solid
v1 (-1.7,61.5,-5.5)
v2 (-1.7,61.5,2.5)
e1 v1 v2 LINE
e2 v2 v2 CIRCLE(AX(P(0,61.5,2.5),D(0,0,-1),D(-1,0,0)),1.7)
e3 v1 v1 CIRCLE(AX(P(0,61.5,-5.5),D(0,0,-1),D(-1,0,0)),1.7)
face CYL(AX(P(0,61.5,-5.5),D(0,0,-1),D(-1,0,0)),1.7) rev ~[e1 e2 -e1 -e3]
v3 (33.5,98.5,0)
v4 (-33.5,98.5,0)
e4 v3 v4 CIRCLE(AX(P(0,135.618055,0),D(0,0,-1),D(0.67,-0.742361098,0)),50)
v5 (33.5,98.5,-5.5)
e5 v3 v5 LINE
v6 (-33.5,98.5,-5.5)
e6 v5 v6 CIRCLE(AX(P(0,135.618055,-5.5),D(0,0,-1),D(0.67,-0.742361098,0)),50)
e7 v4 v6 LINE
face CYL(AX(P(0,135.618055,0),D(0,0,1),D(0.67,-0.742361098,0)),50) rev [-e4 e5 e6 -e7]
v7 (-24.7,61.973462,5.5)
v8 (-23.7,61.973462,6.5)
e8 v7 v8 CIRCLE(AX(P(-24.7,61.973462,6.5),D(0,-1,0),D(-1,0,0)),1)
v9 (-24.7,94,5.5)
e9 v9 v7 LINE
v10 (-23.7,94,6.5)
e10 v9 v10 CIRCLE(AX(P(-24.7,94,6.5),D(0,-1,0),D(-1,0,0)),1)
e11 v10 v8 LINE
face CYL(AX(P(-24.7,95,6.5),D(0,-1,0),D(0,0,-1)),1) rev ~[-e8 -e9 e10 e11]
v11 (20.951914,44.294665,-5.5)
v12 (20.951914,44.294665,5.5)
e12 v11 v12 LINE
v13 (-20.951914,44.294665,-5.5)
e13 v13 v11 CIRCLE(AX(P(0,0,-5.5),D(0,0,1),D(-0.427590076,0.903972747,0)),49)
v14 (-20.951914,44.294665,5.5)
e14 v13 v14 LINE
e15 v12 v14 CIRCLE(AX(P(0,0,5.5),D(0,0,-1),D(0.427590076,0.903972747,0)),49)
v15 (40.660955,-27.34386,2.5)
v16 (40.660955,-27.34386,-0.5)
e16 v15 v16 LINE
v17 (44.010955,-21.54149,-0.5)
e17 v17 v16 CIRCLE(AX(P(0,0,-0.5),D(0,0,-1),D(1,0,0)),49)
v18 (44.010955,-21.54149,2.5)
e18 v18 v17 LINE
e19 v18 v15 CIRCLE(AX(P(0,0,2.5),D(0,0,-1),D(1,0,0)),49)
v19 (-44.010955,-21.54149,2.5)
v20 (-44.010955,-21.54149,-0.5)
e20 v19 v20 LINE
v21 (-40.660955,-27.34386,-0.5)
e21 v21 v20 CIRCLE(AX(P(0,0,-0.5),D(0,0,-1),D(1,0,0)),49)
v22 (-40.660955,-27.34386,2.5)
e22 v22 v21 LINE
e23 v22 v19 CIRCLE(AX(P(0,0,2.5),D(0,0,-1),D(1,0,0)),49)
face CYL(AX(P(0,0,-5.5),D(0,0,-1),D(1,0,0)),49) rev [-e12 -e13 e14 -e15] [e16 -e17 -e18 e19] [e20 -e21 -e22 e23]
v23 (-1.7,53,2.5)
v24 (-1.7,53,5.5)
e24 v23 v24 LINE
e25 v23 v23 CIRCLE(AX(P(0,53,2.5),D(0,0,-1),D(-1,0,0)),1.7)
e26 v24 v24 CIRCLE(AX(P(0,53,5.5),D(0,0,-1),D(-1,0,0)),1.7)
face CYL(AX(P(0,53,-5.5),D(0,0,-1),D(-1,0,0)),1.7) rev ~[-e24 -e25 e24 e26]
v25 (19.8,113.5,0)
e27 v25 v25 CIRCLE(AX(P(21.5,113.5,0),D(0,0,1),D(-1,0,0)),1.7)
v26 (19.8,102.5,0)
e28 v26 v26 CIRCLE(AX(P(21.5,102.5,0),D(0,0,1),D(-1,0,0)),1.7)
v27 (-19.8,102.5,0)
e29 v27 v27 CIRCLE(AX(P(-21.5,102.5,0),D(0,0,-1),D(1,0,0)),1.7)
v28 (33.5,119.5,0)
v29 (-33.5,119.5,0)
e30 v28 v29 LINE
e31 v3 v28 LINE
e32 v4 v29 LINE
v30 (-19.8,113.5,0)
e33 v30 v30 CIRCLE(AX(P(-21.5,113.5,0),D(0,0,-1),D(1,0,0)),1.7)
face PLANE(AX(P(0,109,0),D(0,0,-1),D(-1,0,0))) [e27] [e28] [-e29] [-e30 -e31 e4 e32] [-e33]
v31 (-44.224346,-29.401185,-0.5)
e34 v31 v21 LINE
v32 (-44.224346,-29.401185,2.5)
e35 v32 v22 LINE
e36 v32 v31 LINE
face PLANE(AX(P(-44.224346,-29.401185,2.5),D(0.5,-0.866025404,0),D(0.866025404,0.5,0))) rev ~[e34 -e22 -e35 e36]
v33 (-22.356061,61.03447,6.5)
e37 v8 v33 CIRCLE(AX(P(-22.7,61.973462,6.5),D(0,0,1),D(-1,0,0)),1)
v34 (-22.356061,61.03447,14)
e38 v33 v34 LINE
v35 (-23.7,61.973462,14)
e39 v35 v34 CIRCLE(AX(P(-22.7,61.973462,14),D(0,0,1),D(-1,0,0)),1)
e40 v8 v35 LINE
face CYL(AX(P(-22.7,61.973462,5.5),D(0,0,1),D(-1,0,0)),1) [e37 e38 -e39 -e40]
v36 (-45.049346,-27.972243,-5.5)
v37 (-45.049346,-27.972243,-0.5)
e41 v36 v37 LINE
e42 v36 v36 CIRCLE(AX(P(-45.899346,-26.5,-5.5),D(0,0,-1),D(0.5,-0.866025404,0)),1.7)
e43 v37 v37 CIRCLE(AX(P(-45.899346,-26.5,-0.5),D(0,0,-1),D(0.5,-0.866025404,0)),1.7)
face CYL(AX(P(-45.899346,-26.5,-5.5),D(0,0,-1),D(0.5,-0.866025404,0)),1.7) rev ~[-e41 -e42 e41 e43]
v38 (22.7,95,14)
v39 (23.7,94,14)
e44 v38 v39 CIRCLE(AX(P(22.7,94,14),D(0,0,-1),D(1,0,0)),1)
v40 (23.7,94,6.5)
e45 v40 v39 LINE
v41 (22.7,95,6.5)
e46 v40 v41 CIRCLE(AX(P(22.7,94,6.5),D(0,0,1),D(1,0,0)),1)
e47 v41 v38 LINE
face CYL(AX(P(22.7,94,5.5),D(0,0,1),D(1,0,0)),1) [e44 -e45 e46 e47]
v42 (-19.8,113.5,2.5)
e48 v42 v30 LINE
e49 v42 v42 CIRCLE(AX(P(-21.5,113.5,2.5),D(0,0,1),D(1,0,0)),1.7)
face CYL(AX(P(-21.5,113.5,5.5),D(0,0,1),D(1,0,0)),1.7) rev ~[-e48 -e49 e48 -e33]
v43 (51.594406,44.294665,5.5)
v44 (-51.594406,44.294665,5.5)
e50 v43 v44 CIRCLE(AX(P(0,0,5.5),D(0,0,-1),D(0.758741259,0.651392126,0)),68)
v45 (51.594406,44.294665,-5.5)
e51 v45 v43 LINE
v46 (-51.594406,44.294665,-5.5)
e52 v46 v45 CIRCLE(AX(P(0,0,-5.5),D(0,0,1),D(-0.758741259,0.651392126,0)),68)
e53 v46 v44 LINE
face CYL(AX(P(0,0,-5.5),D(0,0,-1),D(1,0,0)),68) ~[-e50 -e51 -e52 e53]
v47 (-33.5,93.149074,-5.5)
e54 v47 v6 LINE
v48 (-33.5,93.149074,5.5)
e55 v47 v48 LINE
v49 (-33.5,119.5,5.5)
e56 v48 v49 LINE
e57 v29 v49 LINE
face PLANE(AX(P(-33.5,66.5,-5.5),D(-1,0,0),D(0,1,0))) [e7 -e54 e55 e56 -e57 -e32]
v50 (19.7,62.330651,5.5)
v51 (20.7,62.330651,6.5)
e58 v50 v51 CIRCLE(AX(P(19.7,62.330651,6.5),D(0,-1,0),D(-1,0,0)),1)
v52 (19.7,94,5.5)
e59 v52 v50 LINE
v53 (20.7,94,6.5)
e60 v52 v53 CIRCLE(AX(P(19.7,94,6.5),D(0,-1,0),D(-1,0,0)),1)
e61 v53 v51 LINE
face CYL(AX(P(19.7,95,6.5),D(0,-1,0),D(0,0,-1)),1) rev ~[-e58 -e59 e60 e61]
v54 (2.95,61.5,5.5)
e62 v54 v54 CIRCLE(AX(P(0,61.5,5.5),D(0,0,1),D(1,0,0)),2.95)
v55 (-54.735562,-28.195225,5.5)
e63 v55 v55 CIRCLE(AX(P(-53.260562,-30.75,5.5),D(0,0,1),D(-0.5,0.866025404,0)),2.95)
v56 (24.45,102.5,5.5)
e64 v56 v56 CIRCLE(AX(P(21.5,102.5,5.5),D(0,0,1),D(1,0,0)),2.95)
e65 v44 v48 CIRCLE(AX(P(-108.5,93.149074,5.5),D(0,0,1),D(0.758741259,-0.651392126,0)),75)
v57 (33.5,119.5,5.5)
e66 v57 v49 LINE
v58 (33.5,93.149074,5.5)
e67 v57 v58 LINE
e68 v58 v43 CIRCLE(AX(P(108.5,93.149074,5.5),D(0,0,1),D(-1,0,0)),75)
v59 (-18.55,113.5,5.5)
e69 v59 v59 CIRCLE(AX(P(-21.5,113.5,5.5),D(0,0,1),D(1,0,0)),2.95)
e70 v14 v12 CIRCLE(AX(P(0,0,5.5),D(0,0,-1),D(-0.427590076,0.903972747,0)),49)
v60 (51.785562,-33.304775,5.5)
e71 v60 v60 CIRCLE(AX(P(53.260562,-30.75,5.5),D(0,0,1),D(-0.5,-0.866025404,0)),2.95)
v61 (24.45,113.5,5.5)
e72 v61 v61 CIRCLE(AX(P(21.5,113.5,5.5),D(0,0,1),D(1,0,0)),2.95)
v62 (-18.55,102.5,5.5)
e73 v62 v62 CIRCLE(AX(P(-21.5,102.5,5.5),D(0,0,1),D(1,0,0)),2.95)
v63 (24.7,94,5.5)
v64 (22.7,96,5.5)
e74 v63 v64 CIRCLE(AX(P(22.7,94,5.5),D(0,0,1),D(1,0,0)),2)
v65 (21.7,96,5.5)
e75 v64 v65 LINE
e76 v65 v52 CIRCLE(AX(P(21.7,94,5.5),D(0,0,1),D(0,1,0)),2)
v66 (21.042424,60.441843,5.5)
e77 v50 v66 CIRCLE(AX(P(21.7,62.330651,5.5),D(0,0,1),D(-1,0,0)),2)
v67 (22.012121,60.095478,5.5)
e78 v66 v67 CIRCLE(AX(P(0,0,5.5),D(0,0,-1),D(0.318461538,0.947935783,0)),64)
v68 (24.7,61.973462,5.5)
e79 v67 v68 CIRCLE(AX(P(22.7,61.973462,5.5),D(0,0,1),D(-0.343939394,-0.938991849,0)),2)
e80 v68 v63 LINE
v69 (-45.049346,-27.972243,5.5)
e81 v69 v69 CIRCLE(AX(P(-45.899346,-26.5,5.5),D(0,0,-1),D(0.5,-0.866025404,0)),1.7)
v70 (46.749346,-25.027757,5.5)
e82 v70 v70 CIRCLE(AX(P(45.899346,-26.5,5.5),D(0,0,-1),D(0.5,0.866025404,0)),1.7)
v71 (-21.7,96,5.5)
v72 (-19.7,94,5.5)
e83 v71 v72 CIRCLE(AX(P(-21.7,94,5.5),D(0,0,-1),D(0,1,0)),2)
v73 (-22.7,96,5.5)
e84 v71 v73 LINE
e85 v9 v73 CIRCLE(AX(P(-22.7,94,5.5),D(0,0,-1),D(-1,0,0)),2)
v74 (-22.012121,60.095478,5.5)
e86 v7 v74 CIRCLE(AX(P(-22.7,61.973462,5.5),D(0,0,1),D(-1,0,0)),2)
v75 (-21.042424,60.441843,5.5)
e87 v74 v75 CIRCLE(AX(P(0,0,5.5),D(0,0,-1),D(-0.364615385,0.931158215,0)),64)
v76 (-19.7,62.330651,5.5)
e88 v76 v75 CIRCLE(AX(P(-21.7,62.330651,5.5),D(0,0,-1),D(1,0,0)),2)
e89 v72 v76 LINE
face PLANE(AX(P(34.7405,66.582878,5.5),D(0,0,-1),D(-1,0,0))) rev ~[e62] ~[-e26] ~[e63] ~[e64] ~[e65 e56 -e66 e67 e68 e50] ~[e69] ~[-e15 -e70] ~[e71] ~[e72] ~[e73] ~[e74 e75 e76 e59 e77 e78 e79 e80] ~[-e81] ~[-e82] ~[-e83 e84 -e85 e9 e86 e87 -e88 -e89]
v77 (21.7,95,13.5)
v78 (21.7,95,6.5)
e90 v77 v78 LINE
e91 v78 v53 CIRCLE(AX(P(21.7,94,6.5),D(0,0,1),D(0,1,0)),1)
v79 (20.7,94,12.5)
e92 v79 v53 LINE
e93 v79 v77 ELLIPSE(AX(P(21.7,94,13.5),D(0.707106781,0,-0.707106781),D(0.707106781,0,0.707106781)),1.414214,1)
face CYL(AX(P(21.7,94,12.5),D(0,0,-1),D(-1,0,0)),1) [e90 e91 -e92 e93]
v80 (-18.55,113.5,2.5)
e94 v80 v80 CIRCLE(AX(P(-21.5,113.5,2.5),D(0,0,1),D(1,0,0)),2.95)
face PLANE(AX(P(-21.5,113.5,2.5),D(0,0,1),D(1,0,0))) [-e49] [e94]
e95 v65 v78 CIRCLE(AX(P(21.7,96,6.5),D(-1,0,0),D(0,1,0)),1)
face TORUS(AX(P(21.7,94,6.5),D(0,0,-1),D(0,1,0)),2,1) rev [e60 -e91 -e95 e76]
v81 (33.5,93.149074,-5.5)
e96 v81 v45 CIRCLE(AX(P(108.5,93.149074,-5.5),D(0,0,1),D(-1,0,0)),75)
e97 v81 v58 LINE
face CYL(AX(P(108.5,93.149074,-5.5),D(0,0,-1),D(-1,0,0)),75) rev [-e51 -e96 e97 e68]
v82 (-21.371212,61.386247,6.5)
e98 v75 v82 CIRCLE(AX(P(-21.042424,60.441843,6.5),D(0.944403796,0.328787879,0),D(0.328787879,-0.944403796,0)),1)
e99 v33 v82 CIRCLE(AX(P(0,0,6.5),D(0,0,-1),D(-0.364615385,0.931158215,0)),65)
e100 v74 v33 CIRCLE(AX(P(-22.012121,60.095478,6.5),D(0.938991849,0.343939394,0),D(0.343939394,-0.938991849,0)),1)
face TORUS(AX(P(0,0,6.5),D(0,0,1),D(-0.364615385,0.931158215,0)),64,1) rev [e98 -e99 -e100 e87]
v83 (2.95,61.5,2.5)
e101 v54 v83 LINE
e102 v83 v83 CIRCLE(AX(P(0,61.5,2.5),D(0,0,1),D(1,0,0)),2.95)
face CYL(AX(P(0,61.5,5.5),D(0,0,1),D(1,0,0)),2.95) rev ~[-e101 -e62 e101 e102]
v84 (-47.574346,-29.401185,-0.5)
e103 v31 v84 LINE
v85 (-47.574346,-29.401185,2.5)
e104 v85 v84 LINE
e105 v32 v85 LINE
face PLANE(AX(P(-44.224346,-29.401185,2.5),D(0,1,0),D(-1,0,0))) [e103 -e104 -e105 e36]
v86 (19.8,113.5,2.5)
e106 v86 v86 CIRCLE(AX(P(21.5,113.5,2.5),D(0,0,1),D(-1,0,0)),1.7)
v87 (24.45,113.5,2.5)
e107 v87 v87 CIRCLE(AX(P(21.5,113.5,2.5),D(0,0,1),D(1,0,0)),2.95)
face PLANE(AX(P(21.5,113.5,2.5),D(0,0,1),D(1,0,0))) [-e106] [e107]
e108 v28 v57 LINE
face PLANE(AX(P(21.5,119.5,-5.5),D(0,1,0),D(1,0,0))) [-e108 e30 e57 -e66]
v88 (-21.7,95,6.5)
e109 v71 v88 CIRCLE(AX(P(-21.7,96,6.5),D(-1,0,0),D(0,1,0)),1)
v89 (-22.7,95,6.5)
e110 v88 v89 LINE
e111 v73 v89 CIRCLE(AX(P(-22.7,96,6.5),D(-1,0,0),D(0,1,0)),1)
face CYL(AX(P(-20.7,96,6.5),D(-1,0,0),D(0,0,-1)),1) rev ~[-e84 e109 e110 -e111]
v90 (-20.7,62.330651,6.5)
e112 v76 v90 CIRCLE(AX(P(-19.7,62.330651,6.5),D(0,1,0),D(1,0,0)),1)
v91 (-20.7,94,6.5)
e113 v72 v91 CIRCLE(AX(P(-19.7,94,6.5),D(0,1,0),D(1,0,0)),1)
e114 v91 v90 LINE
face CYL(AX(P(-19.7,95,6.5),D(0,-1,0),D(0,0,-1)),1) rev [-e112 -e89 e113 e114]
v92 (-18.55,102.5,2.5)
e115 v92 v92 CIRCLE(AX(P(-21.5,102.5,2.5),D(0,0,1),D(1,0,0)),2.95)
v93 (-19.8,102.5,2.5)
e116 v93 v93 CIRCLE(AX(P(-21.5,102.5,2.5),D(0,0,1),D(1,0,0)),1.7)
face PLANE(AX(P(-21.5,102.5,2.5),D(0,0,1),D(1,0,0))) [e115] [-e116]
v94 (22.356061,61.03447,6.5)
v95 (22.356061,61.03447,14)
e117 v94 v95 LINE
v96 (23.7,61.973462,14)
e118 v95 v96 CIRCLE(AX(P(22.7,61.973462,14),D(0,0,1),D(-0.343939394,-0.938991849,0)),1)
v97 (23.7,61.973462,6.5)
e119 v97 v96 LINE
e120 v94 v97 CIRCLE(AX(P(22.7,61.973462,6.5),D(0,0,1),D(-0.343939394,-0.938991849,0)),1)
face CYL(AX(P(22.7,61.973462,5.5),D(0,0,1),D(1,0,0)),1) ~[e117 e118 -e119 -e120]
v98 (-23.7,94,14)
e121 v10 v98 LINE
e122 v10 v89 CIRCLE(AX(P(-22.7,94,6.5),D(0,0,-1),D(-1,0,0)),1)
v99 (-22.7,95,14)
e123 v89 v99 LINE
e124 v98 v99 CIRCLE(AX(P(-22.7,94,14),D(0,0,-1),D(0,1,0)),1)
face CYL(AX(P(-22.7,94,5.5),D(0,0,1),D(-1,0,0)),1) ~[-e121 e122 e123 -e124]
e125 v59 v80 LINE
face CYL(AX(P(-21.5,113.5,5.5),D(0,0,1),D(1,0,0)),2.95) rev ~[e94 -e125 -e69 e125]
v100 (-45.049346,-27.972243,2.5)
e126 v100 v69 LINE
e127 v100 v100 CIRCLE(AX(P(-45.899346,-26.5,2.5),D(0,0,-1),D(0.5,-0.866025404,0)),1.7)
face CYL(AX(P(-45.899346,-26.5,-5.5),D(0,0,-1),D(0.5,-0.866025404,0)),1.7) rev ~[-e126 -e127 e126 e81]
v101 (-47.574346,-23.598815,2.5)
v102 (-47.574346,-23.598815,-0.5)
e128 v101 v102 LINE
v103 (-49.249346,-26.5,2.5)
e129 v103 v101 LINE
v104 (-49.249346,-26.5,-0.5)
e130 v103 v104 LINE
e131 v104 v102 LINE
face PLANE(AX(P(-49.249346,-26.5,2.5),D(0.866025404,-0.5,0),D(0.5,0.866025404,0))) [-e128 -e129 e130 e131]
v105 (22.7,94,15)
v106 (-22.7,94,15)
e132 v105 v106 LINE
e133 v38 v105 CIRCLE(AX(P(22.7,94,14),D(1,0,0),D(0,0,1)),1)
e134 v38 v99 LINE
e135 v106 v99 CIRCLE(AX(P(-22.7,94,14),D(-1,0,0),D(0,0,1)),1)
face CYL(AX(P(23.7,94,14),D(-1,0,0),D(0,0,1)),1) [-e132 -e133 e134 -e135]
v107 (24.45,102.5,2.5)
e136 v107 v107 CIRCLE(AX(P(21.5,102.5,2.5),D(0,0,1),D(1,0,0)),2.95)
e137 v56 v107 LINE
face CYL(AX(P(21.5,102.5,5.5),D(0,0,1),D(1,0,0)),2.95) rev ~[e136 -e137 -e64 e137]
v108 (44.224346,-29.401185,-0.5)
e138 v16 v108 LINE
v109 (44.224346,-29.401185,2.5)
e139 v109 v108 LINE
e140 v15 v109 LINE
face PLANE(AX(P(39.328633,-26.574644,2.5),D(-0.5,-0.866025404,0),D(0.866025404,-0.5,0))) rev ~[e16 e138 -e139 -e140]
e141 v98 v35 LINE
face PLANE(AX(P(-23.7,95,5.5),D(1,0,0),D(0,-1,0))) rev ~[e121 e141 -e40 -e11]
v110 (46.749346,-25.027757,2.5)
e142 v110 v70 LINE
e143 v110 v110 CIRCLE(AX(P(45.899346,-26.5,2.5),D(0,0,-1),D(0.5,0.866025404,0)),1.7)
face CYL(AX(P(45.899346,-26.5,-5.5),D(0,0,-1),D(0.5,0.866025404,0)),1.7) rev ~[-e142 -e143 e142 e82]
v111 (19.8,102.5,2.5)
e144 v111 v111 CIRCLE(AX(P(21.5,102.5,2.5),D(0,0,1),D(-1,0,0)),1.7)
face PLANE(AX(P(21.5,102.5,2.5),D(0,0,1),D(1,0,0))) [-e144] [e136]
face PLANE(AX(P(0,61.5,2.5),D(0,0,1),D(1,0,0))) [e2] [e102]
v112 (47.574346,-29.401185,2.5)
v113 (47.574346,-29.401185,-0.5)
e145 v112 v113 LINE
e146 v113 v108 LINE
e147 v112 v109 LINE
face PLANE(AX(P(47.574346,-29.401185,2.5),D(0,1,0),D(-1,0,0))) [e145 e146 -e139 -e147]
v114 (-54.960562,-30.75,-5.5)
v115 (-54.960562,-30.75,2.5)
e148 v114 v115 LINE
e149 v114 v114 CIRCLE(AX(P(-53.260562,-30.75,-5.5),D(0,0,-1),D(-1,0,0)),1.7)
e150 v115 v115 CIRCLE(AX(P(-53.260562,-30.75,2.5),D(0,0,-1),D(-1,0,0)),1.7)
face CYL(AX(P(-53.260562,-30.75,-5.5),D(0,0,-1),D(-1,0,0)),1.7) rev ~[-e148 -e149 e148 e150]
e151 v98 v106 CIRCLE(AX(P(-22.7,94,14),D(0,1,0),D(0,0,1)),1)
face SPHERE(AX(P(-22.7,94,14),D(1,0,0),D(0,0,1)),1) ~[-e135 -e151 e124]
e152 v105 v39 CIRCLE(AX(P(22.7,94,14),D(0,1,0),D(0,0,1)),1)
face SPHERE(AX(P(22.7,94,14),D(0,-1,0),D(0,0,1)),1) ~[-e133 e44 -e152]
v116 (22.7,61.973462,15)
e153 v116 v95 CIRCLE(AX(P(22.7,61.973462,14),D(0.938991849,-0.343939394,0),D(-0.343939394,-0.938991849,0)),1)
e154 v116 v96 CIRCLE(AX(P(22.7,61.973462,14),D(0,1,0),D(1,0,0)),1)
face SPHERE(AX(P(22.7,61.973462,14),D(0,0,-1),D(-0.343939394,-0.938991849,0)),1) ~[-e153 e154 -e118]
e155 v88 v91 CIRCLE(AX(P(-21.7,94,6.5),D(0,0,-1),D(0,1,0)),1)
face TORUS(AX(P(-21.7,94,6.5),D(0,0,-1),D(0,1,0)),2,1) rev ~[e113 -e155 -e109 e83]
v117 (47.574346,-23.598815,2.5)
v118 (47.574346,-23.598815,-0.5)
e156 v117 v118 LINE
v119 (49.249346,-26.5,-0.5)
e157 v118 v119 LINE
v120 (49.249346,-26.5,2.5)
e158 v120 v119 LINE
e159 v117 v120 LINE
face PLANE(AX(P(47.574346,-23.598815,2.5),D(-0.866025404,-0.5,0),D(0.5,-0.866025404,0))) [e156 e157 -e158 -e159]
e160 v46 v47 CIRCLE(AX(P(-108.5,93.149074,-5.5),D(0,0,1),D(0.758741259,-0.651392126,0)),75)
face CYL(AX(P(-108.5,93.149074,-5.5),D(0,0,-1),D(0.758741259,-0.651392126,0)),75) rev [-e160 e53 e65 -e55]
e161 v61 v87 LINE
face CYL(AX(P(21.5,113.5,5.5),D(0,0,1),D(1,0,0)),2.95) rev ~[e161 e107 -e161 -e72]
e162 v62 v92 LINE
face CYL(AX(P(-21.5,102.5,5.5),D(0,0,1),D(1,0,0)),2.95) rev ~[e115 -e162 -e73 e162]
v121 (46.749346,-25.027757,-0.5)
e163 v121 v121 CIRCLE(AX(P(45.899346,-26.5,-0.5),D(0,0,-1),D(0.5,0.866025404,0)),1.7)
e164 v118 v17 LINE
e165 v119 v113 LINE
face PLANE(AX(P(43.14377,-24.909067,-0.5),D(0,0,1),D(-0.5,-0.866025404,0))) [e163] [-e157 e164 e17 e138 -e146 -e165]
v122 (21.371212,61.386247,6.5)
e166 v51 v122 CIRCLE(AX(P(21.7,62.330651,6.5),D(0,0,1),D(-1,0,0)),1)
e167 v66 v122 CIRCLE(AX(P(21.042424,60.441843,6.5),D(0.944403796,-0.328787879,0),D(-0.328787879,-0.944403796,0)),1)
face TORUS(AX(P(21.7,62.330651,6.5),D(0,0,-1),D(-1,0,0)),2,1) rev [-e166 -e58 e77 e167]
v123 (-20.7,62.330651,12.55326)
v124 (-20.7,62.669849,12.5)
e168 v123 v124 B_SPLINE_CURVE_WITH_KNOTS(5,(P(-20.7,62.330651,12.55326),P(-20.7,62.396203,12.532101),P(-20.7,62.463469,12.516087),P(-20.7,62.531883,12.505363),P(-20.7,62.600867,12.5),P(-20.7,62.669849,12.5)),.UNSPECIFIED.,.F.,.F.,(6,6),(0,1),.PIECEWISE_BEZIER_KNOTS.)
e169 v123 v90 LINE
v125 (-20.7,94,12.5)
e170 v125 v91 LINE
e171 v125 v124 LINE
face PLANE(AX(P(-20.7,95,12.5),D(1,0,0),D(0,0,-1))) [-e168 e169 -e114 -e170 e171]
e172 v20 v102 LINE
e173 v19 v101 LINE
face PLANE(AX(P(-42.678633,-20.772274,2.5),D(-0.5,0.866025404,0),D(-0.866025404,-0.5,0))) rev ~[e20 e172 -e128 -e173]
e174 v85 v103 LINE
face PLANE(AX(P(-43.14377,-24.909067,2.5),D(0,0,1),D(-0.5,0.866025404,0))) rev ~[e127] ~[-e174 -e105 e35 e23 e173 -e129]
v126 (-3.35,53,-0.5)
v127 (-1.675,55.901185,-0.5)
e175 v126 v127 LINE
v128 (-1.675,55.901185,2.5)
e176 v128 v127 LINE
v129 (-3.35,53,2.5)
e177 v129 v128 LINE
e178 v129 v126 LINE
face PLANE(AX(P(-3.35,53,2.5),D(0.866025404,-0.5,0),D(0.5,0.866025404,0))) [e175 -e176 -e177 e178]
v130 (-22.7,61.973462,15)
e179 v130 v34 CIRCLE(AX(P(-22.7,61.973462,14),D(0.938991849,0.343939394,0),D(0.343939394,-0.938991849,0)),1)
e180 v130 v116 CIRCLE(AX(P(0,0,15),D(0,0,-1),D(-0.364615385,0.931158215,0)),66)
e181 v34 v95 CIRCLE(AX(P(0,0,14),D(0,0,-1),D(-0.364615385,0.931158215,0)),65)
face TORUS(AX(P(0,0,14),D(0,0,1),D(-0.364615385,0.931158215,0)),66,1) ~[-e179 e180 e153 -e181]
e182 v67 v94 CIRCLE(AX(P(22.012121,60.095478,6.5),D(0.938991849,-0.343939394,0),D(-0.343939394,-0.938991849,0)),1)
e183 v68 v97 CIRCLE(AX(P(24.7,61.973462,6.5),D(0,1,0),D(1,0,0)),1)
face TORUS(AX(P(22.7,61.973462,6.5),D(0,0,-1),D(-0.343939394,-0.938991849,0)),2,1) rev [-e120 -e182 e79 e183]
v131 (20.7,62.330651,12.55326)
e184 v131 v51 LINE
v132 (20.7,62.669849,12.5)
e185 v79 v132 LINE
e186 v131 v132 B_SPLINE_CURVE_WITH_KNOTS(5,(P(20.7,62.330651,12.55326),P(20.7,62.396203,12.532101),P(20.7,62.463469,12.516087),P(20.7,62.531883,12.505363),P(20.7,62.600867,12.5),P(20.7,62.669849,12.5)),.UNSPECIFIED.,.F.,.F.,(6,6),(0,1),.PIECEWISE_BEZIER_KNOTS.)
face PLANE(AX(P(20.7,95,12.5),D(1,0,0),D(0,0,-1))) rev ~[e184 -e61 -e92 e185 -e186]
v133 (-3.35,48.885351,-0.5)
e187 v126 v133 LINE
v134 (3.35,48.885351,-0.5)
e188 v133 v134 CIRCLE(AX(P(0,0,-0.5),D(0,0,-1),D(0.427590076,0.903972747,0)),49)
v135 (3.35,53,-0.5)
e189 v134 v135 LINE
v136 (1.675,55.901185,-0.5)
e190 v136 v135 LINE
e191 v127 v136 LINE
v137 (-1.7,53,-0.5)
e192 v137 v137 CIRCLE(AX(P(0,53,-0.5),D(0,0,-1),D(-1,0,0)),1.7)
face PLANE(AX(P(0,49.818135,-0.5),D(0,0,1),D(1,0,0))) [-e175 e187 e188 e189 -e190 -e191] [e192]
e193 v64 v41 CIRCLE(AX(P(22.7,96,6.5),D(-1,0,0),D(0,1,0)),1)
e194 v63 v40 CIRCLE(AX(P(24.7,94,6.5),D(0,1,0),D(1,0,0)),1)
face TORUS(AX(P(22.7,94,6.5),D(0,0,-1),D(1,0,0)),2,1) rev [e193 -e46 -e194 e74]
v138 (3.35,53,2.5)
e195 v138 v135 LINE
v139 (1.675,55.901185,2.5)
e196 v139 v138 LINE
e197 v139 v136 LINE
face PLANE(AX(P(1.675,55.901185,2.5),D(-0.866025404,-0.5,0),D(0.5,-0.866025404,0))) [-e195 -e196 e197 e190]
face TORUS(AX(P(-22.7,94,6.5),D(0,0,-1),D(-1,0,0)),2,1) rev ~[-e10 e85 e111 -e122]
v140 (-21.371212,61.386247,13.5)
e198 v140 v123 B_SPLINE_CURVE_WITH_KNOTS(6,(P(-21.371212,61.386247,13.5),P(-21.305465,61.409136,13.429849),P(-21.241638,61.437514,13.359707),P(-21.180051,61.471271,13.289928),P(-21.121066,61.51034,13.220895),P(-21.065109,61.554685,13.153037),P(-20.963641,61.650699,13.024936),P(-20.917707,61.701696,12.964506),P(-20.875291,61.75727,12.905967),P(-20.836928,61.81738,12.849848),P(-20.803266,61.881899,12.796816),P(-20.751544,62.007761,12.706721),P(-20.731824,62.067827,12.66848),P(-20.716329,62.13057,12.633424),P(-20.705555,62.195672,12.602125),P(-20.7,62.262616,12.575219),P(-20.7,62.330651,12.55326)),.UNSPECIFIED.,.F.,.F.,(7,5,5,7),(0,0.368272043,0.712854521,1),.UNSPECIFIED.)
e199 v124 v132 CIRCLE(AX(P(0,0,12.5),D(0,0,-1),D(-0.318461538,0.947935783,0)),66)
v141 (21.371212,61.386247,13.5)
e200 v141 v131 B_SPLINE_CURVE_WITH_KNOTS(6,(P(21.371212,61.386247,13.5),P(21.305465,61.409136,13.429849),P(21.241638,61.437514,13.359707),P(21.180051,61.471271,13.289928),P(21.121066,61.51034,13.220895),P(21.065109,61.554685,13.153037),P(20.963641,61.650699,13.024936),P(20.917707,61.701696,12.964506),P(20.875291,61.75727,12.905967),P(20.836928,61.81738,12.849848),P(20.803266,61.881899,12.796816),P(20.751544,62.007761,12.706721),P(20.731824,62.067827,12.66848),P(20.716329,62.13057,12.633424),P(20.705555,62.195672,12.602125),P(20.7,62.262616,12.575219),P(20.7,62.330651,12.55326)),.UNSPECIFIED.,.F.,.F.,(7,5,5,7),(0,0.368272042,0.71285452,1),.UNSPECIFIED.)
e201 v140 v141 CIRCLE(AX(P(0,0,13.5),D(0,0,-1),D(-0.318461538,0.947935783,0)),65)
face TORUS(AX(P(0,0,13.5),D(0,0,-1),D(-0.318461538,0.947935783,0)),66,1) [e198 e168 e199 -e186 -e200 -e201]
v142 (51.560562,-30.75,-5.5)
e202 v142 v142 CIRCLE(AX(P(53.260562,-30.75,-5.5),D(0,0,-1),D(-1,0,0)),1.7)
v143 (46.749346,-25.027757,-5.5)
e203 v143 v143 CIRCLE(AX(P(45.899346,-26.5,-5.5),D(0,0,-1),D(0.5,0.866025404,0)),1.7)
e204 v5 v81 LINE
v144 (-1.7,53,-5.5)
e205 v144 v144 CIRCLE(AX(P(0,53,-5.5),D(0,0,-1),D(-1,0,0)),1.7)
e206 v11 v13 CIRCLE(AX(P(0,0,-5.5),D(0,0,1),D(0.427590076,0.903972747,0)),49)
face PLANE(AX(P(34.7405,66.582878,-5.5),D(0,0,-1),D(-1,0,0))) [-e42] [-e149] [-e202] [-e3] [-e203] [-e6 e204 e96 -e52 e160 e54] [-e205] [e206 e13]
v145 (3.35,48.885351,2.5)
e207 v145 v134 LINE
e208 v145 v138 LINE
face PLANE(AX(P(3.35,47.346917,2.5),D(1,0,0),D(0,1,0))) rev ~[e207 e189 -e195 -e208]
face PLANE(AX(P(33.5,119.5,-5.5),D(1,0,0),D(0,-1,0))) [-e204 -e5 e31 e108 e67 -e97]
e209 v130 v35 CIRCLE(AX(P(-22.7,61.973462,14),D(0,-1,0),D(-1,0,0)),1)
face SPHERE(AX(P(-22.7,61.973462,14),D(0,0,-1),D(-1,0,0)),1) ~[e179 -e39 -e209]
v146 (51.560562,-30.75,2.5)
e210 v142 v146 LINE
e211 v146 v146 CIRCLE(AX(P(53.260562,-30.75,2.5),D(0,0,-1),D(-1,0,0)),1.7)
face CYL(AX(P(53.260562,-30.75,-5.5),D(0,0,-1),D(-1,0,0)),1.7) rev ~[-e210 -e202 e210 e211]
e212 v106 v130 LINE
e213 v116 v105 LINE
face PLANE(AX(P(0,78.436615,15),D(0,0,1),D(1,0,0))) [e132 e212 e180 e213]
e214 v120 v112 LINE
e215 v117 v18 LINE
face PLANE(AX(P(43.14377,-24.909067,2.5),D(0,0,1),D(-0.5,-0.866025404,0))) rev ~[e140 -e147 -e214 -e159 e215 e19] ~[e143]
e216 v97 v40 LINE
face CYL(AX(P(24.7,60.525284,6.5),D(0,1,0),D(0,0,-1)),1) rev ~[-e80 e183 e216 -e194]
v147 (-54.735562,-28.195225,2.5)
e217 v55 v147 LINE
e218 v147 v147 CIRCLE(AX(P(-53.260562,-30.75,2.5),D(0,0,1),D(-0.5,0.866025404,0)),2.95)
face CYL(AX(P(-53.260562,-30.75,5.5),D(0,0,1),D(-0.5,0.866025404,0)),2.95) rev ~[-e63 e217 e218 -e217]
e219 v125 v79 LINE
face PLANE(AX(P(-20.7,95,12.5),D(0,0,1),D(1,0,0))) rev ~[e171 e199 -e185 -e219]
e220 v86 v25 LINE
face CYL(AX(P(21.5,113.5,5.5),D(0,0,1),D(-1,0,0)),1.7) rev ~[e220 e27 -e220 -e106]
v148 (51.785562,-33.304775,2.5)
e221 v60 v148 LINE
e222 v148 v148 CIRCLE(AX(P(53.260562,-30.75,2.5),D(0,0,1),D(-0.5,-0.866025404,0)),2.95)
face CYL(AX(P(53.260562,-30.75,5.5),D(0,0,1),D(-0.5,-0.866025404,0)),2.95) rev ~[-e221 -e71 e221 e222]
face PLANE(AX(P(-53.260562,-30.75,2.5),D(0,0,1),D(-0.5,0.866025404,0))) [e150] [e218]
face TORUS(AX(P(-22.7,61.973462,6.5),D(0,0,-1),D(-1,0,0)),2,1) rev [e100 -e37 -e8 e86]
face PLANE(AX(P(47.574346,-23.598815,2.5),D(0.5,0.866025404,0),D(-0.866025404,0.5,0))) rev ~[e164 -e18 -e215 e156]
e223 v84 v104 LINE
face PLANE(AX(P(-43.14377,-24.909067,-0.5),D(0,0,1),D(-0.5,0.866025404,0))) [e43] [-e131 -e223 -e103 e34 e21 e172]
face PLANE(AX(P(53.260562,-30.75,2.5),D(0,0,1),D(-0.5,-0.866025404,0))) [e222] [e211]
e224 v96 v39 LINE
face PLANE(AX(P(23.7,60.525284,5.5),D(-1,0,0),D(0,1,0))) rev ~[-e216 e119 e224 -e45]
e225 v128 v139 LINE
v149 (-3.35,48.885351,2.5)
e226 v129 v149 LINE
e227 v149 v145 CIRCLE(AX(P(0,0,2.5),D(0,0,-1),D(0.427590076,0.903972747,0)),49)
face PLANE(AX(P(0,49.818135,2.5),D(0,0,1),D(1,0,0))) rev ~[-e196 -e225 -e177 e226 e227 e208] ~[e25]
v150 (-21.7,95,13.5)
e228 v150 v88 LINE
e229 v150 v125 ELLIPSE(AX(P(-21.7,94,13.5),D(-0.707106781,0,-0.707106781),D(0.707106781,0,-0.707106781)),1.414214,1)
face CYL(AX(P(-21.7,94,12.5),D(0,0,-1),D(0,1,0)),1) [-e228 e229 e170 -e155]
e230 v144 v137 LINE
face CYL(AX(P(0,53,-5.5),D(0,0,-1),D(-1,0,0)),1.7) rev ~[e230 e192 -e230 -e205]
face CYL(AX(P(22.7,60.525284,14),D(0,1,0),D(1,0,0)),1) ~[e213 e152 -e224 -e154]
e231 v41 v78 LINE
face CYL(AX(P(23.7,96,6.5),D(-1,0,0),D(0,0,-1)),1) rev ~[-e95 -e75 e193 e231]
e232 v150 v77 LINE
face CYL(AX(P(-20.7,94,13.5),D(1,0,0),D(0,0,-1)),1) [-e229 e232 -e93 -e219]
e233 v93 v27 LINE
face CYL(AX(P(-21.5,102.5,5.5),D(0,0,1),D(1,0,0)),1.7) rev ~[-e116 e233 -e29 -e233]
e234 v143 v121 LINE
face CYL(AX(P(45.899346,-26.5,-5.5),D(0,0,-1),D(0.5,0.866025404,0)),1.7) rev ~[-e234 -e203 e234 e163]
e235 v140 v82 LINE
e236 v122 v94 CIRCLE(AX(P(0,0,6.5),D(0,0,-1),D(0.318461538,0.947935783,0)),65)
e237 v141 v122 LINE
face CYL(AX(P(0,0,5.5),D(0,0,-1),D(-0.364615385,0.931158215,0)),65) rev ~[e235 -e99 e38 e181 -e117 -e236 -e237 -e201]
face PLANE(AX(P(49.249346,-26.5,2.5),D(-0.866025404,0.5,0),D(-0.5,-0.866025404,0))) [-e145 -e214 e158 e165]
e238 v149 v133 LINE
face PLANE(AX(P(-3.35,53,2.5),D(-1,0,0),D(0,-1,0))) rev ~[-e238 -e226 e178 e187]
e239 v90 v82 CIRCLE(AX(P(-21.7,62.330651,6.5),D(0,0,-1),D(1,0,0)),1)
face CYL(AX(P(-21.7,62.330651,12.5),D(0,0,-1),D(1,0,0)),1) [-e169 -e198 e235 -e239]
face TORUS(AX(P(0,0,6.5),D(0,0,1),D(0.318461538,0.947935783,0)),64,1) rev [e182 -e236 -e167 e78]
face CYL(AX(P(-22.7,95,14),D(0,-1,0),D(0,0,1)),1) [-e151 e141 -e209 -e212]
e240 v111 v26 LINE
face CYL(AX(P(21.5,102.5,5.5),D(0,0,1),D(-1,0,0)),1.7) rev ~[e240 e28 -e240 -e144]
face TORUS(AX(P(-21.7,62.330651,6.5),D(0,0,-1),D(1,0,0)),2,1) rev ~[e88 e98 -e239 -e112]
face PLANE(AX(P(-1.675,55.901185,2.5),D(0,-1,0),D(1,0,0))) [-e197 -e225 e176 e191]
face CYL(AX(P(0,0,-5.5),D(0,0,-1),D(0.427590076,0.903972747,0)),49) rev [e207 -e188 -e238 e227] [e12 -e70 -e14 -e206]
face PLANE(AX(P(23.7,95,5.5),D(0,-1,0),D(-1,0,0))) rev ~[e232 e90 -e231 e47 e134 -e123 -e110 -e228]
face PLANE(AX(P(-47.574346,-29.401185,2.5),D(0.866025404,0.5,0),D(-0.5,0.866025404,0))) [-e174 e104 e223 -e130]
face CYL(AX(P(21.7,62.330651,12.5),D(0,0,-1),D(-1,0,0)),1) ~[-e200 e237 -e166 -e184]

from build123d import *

# Parameters (mm, degrees)
BOSS_EXTRUDE1_DEPTH      = 5.5
BOSS_EXTRUDE1_DEPTH_BACK = 5.5
SKETCH1_R                = 68
SKETCH1_R_2              = 49
BOSS_EXTRUDE2_DEPTH      = 11
SKETCH3_R                = 1.7
CUT_EXTRUDE1_DEPTH       = 138.932048488
SKETCH4_R                = 2.95
CUT_EXTRUDE2_DEPTH       = 3
CUT_EXTRUDE3_START       = -5.5
SKETCH5_R                = 1.7
CUT_EXTRUDE3_DEPTH       = 5.5
SKETCH6_R                = 1.7
CUT_EXTRUDE4_DEPTH       = 138.932048488
SKETCH7_R                = 1.7
CUT_EXTRUDE5_DEPTH       = 138.932048488
CIRPATTERN1_COUNT        = 3
CUT_EXTRUDE6_DEPTH       = 3
CIRPATTERN2_COUNT        = 3
SKETCH10_R               = 2.95
CUT_EXTRUDE8_DEPTH       = 3
CIRPATTERN4_COUNT        = 3
BOSS_EXTRUDE4_DEPTH      = 9.5
SKETCH14_W               = 41.4
SKETCH14_H               = 7
CUT_EXTRUDE10_DEPTH      = 178.251234128
FILLET2_R                = 1


with BuildPart() as part:
    # Sketch1 → Boss-Extrude1 (new, two sides: drawn at the far end of the back side and taken through both)
    with BuildSketch(Plane.XY.offset(-BOSS_EXTRUDE1_DEPTH_BACK)):
        Circle(SKETCH1_R)
        Circle(SKETCH1_R_2, mode=Mode.SUBTRACT)
    extrude(amount=BOSS_EXTRUDE1_DEPTH + BOSS_EXTRUDE1_DEPTH_BACK)

    # Sketch2 → Boss-Extrude2 (add)
    with BuildSketch(Plane(origin=(0, 0, -5.5), x_dir=(-1, 0, 0), z_dir=(0, 0, -1))):
        with BuildLine():
            Line((-33.5, 119.5), (-33.5, 93.149074069))
            ThreePointArc((-33.5, 93.149074069), (-38.168927278, 67.100269686), (-51.594405594, 44.294664592))
            Line((-51.594405594, 44.294664592), (-20.951913723, 44.294664592))
            ThreePointArc((-20.951913723, 44.294664592), (0, 49), (20.951913723, 44.294664592))
            Line((20.951913723, 44.294664592), (51.594405594, 44.294664592))
            ThreePointArc((51.594405594, 44.294664592), (38.168927278, 67.100269686), (33.5, 93.149074069))
            Line((33.5, 93.149074069), (33.5, 119.5))
            Line((33.5, 119.5), (-33.5, 119.5))
        make_face()
    extrude(amount=-BOSS_EXTRUDE2_DEPTH)

    # Sketch3 → Cut-Extrude1 (cut, through all)
    with BuildSketch(Plane.XY.offset(5.5)):
        with Locations((-21.5, 113.5)):
            Circle(SKETCH3_R)
        with Locations((-21.5, 102.5)):
            Circle(SKETCH3_R)
        with Locations((21.5, 102.5)):
            Circle(SKETCH3_R)
        with Locations((21.5, 113.5)):
            Circle(SKETCH3_R)
    extrude(amount=-CUT_EXTRUDE1_DEPTH, mode=Mode.SUBTRACT)

    # Sketch4 → Cut-Extrude2 (cut)
    with BuildSketch(Plane.XY.offset(5.5)):
        with Locations((-21.5, 113.5)):
            Circle(SKETCH4_R)
        with Locations((-21.5, 102.5)):
            Circle(SKETCH4_R)
        with Locations((21.5, 102.5)):
            Circle(SKETCH4_R)
        with Locations((21.5, 113.5)):
            Circle(SKETCH4_R)
    extrude(amount=-CUT_EXTRUDE2_DEPTH, mode=Mode.SUBTRACT)

    # Sketch5 → Cut-Extrude3 (cut)
    with BuildSketch(Plane(origin=(0, 0, -5.5), x_dir=(-1, 0, 0), z_dir=(0, 0, -1)).offset(CUT_EXTRUDE3_START)):
        with BuildLine():
            Line((33.5, 119.5), (-33.5, 119.5))
            Line((-33.5, 119.5), (-33.5, 98.5))
            ThreePointArc((-33.5, 98.5), (0, 85.618054906), (33.5, 98.5))
            Line((33.5, 98.5), (33.5, 119.5))
        make_face()
        with Locations((-21.5, 102.5)):
            Circle(SKETCH5_R, mode=Mode.SUBTRACT)
        with Locations((-21.5, 113.5)):
            Circle(SKETCH5_R, mode=Mode.SUBTRACT)
        with Locations((21.5, 102.5)):
            Circle(SKETCH5_R, mode=Mode.SUBTRACT)
        with Locations((21.5, 113.5)):
            Circle(SKETCH5_R, mode=Mode.SUBTRACT)
    extrude(amount=CUT_EXTRUDE3_DEPTH, mode=Mode.SUBTRACT)

    # Sketch6 → Cut-Extrude4 (cut, through all)
    with BuildSketch(Plane(origin=(0, 0, -5.5), x_dir=(-1, 0, 0), z_dir=(0, 0, -1))):
        with Locations((0, 61.5)):
            Circle(SKETCH6_R)
        with Locations((53.260562333, -30.75)):
            Circle(SKETCH6_R)
        with Locations((-53.260562333, -30.75)):
            Circle(SKETCH6_R)
    extrude(amount=-CUT_EXTRUDE4_DEPTH, mode=Mode.SUBTRACT)

    # Sketch7 → Cut-Extrude5 (cut, through all)
    with BuildSketch(Plane(origin=(0, 0, -5.5), x_dir=(-1, 0, 0), z_dir=(0, 0, -1))):
        with Locations((0, 53)):
            Circle(SKETCH7_R)
    cut_extrude5 = extrude(amount=-CUT_EXTRUDE5_DEPTH, mode=Mode.SUBTRACT)

    # CirPattern1: Cut-Extrude5 ×3 about axis
    cirpattern1_axis = Axis((0, 0, -5.5), (0, 0, 1))
    for i in range(1, CIRPATTERN1_COUNT):
        add(cut_extrude5.rotate(cirpattern1_axis, i * 360 / CIRPATTERN1_COUNT), mode=Mode.SUBTRACT)

    # Sketch8 → Cut-Extrude6 (cut)
    with BuildSketch(Plane.XY.offset(2.5)):
        Polygon((1.675, 55.901185103), (-1.675, 55.901185103), (-3.35, 53), (-3.35, 47.346917497), (3.35, 47.346917497), (3.35, 53), align=None)
    cut_extrude6 = extrude(amount=-CUT_EXTRUDE6_DEPTH, mode=Mode.SUBTRACT)

    # CirPattern2: Cut-Extrude6 ×3 about axis
    cirpattern2_axis = Axis((0, 0, 5.5), (0, 0, 1))
    for i in range(1, CIRPATTERN2_COUNT):
        add(cut_extrude6.rotate(cirpattern2_axis, i * 360 / CIRPATTERN2_COUNT), mode=Mode.SUBTRACT)

    # Sketch10 → Cut-Extrude8 (cut)
    with BuildSketch(Plane.XY.offset(5.5)):
        with Locations((0, 61.5)):
            Circle(SKETCH10_R)
    cut_extrude8 = extrude(amount=-CUT_EXTRUDE8_DEPTH, mode=Mode.SUBTRACT)

    # CirPattern4: Cut-Extrude8 ×3 about axis
    cirpattern4_axis = Axis((0, 0, 5.5), (0, 0, 1))
    for i in range(1, CIRPATTERN4_COUNT):
        add(cut_extrude8.rotate(cirpattern4_axis, i * 360 / CIRPATTERN4_COUNT), mode=Mode.SUBTRACT)

    # Sketch13 → Boss-Extrude4 (add)
    with BuildSketch(Plane.XY.offset(5.5)):
        with BuildLine():
            Line((-23.7, 95), (-23.7, 60.525283973))
            ThreePointArc((-23.7, 60.525283973), (0, 65), (23.7, 60.525283973))
            Line((23.7, 60.525283973), (23.7, 95))
            Line((23.7, 95), (-23.7, 95))
        make_face()
    extrude(amount=BOSS_EXTRUDE4_DEPTH)

    # Sketch14 → Cut-Extrude10 (cut, through all)
    with BuildSketch(Plane(origin=(0, 95, 0), x_dir=(1, 0, 0), z_dir=(0, 1, 0))):
        with Locations((0, -9)):
            Rectangle(SKETCH14_W, SKETCH14_H)
    extrude(amount=-CUT_EXTRUDE10_DEPTH, mode=Mode.SUBTRACT)

    # Fillet2
    fillet2_edges = [part.edges().sort_by_distance(p)[0] for p in [
        (23.7, 77.762641986, 5.5),
        (-20.7, 78.307912945, 5.5),
        (22.206695396, 61.08897347, 5.5),
        (22.2, 95, 5.5),
        (-22.206695396, 61.08897347, 5.5),
        (-22.2, 95, 5.5),
        (20.7, 78.307912945, 5.5),
        (-23.7, 77.762641986, 5.5),
        (20.7, 61.615825889, 9),
        (-20.7, 61.615825889, 9),
        (0, 65, 12.5),
        (0, 95, 15),
        (23.7, 95, 10.25),
        (20.7, 95, 9),
        (0, 95, 12.5),
        (-20.7, 95, 9),
        (-23.7, 95, 10.25),
        (-23.7, 60.525283973, 10.25),
        (0, 65, 15),
        (23.7, 60.525283973, 10.25),
        (23.7, 77.762641986, 15),
        (-23.7, 77.762641986, 15),
    ]]
    fillet(fillet2_edges, radius=FILLET2_R)


solid = part.part
